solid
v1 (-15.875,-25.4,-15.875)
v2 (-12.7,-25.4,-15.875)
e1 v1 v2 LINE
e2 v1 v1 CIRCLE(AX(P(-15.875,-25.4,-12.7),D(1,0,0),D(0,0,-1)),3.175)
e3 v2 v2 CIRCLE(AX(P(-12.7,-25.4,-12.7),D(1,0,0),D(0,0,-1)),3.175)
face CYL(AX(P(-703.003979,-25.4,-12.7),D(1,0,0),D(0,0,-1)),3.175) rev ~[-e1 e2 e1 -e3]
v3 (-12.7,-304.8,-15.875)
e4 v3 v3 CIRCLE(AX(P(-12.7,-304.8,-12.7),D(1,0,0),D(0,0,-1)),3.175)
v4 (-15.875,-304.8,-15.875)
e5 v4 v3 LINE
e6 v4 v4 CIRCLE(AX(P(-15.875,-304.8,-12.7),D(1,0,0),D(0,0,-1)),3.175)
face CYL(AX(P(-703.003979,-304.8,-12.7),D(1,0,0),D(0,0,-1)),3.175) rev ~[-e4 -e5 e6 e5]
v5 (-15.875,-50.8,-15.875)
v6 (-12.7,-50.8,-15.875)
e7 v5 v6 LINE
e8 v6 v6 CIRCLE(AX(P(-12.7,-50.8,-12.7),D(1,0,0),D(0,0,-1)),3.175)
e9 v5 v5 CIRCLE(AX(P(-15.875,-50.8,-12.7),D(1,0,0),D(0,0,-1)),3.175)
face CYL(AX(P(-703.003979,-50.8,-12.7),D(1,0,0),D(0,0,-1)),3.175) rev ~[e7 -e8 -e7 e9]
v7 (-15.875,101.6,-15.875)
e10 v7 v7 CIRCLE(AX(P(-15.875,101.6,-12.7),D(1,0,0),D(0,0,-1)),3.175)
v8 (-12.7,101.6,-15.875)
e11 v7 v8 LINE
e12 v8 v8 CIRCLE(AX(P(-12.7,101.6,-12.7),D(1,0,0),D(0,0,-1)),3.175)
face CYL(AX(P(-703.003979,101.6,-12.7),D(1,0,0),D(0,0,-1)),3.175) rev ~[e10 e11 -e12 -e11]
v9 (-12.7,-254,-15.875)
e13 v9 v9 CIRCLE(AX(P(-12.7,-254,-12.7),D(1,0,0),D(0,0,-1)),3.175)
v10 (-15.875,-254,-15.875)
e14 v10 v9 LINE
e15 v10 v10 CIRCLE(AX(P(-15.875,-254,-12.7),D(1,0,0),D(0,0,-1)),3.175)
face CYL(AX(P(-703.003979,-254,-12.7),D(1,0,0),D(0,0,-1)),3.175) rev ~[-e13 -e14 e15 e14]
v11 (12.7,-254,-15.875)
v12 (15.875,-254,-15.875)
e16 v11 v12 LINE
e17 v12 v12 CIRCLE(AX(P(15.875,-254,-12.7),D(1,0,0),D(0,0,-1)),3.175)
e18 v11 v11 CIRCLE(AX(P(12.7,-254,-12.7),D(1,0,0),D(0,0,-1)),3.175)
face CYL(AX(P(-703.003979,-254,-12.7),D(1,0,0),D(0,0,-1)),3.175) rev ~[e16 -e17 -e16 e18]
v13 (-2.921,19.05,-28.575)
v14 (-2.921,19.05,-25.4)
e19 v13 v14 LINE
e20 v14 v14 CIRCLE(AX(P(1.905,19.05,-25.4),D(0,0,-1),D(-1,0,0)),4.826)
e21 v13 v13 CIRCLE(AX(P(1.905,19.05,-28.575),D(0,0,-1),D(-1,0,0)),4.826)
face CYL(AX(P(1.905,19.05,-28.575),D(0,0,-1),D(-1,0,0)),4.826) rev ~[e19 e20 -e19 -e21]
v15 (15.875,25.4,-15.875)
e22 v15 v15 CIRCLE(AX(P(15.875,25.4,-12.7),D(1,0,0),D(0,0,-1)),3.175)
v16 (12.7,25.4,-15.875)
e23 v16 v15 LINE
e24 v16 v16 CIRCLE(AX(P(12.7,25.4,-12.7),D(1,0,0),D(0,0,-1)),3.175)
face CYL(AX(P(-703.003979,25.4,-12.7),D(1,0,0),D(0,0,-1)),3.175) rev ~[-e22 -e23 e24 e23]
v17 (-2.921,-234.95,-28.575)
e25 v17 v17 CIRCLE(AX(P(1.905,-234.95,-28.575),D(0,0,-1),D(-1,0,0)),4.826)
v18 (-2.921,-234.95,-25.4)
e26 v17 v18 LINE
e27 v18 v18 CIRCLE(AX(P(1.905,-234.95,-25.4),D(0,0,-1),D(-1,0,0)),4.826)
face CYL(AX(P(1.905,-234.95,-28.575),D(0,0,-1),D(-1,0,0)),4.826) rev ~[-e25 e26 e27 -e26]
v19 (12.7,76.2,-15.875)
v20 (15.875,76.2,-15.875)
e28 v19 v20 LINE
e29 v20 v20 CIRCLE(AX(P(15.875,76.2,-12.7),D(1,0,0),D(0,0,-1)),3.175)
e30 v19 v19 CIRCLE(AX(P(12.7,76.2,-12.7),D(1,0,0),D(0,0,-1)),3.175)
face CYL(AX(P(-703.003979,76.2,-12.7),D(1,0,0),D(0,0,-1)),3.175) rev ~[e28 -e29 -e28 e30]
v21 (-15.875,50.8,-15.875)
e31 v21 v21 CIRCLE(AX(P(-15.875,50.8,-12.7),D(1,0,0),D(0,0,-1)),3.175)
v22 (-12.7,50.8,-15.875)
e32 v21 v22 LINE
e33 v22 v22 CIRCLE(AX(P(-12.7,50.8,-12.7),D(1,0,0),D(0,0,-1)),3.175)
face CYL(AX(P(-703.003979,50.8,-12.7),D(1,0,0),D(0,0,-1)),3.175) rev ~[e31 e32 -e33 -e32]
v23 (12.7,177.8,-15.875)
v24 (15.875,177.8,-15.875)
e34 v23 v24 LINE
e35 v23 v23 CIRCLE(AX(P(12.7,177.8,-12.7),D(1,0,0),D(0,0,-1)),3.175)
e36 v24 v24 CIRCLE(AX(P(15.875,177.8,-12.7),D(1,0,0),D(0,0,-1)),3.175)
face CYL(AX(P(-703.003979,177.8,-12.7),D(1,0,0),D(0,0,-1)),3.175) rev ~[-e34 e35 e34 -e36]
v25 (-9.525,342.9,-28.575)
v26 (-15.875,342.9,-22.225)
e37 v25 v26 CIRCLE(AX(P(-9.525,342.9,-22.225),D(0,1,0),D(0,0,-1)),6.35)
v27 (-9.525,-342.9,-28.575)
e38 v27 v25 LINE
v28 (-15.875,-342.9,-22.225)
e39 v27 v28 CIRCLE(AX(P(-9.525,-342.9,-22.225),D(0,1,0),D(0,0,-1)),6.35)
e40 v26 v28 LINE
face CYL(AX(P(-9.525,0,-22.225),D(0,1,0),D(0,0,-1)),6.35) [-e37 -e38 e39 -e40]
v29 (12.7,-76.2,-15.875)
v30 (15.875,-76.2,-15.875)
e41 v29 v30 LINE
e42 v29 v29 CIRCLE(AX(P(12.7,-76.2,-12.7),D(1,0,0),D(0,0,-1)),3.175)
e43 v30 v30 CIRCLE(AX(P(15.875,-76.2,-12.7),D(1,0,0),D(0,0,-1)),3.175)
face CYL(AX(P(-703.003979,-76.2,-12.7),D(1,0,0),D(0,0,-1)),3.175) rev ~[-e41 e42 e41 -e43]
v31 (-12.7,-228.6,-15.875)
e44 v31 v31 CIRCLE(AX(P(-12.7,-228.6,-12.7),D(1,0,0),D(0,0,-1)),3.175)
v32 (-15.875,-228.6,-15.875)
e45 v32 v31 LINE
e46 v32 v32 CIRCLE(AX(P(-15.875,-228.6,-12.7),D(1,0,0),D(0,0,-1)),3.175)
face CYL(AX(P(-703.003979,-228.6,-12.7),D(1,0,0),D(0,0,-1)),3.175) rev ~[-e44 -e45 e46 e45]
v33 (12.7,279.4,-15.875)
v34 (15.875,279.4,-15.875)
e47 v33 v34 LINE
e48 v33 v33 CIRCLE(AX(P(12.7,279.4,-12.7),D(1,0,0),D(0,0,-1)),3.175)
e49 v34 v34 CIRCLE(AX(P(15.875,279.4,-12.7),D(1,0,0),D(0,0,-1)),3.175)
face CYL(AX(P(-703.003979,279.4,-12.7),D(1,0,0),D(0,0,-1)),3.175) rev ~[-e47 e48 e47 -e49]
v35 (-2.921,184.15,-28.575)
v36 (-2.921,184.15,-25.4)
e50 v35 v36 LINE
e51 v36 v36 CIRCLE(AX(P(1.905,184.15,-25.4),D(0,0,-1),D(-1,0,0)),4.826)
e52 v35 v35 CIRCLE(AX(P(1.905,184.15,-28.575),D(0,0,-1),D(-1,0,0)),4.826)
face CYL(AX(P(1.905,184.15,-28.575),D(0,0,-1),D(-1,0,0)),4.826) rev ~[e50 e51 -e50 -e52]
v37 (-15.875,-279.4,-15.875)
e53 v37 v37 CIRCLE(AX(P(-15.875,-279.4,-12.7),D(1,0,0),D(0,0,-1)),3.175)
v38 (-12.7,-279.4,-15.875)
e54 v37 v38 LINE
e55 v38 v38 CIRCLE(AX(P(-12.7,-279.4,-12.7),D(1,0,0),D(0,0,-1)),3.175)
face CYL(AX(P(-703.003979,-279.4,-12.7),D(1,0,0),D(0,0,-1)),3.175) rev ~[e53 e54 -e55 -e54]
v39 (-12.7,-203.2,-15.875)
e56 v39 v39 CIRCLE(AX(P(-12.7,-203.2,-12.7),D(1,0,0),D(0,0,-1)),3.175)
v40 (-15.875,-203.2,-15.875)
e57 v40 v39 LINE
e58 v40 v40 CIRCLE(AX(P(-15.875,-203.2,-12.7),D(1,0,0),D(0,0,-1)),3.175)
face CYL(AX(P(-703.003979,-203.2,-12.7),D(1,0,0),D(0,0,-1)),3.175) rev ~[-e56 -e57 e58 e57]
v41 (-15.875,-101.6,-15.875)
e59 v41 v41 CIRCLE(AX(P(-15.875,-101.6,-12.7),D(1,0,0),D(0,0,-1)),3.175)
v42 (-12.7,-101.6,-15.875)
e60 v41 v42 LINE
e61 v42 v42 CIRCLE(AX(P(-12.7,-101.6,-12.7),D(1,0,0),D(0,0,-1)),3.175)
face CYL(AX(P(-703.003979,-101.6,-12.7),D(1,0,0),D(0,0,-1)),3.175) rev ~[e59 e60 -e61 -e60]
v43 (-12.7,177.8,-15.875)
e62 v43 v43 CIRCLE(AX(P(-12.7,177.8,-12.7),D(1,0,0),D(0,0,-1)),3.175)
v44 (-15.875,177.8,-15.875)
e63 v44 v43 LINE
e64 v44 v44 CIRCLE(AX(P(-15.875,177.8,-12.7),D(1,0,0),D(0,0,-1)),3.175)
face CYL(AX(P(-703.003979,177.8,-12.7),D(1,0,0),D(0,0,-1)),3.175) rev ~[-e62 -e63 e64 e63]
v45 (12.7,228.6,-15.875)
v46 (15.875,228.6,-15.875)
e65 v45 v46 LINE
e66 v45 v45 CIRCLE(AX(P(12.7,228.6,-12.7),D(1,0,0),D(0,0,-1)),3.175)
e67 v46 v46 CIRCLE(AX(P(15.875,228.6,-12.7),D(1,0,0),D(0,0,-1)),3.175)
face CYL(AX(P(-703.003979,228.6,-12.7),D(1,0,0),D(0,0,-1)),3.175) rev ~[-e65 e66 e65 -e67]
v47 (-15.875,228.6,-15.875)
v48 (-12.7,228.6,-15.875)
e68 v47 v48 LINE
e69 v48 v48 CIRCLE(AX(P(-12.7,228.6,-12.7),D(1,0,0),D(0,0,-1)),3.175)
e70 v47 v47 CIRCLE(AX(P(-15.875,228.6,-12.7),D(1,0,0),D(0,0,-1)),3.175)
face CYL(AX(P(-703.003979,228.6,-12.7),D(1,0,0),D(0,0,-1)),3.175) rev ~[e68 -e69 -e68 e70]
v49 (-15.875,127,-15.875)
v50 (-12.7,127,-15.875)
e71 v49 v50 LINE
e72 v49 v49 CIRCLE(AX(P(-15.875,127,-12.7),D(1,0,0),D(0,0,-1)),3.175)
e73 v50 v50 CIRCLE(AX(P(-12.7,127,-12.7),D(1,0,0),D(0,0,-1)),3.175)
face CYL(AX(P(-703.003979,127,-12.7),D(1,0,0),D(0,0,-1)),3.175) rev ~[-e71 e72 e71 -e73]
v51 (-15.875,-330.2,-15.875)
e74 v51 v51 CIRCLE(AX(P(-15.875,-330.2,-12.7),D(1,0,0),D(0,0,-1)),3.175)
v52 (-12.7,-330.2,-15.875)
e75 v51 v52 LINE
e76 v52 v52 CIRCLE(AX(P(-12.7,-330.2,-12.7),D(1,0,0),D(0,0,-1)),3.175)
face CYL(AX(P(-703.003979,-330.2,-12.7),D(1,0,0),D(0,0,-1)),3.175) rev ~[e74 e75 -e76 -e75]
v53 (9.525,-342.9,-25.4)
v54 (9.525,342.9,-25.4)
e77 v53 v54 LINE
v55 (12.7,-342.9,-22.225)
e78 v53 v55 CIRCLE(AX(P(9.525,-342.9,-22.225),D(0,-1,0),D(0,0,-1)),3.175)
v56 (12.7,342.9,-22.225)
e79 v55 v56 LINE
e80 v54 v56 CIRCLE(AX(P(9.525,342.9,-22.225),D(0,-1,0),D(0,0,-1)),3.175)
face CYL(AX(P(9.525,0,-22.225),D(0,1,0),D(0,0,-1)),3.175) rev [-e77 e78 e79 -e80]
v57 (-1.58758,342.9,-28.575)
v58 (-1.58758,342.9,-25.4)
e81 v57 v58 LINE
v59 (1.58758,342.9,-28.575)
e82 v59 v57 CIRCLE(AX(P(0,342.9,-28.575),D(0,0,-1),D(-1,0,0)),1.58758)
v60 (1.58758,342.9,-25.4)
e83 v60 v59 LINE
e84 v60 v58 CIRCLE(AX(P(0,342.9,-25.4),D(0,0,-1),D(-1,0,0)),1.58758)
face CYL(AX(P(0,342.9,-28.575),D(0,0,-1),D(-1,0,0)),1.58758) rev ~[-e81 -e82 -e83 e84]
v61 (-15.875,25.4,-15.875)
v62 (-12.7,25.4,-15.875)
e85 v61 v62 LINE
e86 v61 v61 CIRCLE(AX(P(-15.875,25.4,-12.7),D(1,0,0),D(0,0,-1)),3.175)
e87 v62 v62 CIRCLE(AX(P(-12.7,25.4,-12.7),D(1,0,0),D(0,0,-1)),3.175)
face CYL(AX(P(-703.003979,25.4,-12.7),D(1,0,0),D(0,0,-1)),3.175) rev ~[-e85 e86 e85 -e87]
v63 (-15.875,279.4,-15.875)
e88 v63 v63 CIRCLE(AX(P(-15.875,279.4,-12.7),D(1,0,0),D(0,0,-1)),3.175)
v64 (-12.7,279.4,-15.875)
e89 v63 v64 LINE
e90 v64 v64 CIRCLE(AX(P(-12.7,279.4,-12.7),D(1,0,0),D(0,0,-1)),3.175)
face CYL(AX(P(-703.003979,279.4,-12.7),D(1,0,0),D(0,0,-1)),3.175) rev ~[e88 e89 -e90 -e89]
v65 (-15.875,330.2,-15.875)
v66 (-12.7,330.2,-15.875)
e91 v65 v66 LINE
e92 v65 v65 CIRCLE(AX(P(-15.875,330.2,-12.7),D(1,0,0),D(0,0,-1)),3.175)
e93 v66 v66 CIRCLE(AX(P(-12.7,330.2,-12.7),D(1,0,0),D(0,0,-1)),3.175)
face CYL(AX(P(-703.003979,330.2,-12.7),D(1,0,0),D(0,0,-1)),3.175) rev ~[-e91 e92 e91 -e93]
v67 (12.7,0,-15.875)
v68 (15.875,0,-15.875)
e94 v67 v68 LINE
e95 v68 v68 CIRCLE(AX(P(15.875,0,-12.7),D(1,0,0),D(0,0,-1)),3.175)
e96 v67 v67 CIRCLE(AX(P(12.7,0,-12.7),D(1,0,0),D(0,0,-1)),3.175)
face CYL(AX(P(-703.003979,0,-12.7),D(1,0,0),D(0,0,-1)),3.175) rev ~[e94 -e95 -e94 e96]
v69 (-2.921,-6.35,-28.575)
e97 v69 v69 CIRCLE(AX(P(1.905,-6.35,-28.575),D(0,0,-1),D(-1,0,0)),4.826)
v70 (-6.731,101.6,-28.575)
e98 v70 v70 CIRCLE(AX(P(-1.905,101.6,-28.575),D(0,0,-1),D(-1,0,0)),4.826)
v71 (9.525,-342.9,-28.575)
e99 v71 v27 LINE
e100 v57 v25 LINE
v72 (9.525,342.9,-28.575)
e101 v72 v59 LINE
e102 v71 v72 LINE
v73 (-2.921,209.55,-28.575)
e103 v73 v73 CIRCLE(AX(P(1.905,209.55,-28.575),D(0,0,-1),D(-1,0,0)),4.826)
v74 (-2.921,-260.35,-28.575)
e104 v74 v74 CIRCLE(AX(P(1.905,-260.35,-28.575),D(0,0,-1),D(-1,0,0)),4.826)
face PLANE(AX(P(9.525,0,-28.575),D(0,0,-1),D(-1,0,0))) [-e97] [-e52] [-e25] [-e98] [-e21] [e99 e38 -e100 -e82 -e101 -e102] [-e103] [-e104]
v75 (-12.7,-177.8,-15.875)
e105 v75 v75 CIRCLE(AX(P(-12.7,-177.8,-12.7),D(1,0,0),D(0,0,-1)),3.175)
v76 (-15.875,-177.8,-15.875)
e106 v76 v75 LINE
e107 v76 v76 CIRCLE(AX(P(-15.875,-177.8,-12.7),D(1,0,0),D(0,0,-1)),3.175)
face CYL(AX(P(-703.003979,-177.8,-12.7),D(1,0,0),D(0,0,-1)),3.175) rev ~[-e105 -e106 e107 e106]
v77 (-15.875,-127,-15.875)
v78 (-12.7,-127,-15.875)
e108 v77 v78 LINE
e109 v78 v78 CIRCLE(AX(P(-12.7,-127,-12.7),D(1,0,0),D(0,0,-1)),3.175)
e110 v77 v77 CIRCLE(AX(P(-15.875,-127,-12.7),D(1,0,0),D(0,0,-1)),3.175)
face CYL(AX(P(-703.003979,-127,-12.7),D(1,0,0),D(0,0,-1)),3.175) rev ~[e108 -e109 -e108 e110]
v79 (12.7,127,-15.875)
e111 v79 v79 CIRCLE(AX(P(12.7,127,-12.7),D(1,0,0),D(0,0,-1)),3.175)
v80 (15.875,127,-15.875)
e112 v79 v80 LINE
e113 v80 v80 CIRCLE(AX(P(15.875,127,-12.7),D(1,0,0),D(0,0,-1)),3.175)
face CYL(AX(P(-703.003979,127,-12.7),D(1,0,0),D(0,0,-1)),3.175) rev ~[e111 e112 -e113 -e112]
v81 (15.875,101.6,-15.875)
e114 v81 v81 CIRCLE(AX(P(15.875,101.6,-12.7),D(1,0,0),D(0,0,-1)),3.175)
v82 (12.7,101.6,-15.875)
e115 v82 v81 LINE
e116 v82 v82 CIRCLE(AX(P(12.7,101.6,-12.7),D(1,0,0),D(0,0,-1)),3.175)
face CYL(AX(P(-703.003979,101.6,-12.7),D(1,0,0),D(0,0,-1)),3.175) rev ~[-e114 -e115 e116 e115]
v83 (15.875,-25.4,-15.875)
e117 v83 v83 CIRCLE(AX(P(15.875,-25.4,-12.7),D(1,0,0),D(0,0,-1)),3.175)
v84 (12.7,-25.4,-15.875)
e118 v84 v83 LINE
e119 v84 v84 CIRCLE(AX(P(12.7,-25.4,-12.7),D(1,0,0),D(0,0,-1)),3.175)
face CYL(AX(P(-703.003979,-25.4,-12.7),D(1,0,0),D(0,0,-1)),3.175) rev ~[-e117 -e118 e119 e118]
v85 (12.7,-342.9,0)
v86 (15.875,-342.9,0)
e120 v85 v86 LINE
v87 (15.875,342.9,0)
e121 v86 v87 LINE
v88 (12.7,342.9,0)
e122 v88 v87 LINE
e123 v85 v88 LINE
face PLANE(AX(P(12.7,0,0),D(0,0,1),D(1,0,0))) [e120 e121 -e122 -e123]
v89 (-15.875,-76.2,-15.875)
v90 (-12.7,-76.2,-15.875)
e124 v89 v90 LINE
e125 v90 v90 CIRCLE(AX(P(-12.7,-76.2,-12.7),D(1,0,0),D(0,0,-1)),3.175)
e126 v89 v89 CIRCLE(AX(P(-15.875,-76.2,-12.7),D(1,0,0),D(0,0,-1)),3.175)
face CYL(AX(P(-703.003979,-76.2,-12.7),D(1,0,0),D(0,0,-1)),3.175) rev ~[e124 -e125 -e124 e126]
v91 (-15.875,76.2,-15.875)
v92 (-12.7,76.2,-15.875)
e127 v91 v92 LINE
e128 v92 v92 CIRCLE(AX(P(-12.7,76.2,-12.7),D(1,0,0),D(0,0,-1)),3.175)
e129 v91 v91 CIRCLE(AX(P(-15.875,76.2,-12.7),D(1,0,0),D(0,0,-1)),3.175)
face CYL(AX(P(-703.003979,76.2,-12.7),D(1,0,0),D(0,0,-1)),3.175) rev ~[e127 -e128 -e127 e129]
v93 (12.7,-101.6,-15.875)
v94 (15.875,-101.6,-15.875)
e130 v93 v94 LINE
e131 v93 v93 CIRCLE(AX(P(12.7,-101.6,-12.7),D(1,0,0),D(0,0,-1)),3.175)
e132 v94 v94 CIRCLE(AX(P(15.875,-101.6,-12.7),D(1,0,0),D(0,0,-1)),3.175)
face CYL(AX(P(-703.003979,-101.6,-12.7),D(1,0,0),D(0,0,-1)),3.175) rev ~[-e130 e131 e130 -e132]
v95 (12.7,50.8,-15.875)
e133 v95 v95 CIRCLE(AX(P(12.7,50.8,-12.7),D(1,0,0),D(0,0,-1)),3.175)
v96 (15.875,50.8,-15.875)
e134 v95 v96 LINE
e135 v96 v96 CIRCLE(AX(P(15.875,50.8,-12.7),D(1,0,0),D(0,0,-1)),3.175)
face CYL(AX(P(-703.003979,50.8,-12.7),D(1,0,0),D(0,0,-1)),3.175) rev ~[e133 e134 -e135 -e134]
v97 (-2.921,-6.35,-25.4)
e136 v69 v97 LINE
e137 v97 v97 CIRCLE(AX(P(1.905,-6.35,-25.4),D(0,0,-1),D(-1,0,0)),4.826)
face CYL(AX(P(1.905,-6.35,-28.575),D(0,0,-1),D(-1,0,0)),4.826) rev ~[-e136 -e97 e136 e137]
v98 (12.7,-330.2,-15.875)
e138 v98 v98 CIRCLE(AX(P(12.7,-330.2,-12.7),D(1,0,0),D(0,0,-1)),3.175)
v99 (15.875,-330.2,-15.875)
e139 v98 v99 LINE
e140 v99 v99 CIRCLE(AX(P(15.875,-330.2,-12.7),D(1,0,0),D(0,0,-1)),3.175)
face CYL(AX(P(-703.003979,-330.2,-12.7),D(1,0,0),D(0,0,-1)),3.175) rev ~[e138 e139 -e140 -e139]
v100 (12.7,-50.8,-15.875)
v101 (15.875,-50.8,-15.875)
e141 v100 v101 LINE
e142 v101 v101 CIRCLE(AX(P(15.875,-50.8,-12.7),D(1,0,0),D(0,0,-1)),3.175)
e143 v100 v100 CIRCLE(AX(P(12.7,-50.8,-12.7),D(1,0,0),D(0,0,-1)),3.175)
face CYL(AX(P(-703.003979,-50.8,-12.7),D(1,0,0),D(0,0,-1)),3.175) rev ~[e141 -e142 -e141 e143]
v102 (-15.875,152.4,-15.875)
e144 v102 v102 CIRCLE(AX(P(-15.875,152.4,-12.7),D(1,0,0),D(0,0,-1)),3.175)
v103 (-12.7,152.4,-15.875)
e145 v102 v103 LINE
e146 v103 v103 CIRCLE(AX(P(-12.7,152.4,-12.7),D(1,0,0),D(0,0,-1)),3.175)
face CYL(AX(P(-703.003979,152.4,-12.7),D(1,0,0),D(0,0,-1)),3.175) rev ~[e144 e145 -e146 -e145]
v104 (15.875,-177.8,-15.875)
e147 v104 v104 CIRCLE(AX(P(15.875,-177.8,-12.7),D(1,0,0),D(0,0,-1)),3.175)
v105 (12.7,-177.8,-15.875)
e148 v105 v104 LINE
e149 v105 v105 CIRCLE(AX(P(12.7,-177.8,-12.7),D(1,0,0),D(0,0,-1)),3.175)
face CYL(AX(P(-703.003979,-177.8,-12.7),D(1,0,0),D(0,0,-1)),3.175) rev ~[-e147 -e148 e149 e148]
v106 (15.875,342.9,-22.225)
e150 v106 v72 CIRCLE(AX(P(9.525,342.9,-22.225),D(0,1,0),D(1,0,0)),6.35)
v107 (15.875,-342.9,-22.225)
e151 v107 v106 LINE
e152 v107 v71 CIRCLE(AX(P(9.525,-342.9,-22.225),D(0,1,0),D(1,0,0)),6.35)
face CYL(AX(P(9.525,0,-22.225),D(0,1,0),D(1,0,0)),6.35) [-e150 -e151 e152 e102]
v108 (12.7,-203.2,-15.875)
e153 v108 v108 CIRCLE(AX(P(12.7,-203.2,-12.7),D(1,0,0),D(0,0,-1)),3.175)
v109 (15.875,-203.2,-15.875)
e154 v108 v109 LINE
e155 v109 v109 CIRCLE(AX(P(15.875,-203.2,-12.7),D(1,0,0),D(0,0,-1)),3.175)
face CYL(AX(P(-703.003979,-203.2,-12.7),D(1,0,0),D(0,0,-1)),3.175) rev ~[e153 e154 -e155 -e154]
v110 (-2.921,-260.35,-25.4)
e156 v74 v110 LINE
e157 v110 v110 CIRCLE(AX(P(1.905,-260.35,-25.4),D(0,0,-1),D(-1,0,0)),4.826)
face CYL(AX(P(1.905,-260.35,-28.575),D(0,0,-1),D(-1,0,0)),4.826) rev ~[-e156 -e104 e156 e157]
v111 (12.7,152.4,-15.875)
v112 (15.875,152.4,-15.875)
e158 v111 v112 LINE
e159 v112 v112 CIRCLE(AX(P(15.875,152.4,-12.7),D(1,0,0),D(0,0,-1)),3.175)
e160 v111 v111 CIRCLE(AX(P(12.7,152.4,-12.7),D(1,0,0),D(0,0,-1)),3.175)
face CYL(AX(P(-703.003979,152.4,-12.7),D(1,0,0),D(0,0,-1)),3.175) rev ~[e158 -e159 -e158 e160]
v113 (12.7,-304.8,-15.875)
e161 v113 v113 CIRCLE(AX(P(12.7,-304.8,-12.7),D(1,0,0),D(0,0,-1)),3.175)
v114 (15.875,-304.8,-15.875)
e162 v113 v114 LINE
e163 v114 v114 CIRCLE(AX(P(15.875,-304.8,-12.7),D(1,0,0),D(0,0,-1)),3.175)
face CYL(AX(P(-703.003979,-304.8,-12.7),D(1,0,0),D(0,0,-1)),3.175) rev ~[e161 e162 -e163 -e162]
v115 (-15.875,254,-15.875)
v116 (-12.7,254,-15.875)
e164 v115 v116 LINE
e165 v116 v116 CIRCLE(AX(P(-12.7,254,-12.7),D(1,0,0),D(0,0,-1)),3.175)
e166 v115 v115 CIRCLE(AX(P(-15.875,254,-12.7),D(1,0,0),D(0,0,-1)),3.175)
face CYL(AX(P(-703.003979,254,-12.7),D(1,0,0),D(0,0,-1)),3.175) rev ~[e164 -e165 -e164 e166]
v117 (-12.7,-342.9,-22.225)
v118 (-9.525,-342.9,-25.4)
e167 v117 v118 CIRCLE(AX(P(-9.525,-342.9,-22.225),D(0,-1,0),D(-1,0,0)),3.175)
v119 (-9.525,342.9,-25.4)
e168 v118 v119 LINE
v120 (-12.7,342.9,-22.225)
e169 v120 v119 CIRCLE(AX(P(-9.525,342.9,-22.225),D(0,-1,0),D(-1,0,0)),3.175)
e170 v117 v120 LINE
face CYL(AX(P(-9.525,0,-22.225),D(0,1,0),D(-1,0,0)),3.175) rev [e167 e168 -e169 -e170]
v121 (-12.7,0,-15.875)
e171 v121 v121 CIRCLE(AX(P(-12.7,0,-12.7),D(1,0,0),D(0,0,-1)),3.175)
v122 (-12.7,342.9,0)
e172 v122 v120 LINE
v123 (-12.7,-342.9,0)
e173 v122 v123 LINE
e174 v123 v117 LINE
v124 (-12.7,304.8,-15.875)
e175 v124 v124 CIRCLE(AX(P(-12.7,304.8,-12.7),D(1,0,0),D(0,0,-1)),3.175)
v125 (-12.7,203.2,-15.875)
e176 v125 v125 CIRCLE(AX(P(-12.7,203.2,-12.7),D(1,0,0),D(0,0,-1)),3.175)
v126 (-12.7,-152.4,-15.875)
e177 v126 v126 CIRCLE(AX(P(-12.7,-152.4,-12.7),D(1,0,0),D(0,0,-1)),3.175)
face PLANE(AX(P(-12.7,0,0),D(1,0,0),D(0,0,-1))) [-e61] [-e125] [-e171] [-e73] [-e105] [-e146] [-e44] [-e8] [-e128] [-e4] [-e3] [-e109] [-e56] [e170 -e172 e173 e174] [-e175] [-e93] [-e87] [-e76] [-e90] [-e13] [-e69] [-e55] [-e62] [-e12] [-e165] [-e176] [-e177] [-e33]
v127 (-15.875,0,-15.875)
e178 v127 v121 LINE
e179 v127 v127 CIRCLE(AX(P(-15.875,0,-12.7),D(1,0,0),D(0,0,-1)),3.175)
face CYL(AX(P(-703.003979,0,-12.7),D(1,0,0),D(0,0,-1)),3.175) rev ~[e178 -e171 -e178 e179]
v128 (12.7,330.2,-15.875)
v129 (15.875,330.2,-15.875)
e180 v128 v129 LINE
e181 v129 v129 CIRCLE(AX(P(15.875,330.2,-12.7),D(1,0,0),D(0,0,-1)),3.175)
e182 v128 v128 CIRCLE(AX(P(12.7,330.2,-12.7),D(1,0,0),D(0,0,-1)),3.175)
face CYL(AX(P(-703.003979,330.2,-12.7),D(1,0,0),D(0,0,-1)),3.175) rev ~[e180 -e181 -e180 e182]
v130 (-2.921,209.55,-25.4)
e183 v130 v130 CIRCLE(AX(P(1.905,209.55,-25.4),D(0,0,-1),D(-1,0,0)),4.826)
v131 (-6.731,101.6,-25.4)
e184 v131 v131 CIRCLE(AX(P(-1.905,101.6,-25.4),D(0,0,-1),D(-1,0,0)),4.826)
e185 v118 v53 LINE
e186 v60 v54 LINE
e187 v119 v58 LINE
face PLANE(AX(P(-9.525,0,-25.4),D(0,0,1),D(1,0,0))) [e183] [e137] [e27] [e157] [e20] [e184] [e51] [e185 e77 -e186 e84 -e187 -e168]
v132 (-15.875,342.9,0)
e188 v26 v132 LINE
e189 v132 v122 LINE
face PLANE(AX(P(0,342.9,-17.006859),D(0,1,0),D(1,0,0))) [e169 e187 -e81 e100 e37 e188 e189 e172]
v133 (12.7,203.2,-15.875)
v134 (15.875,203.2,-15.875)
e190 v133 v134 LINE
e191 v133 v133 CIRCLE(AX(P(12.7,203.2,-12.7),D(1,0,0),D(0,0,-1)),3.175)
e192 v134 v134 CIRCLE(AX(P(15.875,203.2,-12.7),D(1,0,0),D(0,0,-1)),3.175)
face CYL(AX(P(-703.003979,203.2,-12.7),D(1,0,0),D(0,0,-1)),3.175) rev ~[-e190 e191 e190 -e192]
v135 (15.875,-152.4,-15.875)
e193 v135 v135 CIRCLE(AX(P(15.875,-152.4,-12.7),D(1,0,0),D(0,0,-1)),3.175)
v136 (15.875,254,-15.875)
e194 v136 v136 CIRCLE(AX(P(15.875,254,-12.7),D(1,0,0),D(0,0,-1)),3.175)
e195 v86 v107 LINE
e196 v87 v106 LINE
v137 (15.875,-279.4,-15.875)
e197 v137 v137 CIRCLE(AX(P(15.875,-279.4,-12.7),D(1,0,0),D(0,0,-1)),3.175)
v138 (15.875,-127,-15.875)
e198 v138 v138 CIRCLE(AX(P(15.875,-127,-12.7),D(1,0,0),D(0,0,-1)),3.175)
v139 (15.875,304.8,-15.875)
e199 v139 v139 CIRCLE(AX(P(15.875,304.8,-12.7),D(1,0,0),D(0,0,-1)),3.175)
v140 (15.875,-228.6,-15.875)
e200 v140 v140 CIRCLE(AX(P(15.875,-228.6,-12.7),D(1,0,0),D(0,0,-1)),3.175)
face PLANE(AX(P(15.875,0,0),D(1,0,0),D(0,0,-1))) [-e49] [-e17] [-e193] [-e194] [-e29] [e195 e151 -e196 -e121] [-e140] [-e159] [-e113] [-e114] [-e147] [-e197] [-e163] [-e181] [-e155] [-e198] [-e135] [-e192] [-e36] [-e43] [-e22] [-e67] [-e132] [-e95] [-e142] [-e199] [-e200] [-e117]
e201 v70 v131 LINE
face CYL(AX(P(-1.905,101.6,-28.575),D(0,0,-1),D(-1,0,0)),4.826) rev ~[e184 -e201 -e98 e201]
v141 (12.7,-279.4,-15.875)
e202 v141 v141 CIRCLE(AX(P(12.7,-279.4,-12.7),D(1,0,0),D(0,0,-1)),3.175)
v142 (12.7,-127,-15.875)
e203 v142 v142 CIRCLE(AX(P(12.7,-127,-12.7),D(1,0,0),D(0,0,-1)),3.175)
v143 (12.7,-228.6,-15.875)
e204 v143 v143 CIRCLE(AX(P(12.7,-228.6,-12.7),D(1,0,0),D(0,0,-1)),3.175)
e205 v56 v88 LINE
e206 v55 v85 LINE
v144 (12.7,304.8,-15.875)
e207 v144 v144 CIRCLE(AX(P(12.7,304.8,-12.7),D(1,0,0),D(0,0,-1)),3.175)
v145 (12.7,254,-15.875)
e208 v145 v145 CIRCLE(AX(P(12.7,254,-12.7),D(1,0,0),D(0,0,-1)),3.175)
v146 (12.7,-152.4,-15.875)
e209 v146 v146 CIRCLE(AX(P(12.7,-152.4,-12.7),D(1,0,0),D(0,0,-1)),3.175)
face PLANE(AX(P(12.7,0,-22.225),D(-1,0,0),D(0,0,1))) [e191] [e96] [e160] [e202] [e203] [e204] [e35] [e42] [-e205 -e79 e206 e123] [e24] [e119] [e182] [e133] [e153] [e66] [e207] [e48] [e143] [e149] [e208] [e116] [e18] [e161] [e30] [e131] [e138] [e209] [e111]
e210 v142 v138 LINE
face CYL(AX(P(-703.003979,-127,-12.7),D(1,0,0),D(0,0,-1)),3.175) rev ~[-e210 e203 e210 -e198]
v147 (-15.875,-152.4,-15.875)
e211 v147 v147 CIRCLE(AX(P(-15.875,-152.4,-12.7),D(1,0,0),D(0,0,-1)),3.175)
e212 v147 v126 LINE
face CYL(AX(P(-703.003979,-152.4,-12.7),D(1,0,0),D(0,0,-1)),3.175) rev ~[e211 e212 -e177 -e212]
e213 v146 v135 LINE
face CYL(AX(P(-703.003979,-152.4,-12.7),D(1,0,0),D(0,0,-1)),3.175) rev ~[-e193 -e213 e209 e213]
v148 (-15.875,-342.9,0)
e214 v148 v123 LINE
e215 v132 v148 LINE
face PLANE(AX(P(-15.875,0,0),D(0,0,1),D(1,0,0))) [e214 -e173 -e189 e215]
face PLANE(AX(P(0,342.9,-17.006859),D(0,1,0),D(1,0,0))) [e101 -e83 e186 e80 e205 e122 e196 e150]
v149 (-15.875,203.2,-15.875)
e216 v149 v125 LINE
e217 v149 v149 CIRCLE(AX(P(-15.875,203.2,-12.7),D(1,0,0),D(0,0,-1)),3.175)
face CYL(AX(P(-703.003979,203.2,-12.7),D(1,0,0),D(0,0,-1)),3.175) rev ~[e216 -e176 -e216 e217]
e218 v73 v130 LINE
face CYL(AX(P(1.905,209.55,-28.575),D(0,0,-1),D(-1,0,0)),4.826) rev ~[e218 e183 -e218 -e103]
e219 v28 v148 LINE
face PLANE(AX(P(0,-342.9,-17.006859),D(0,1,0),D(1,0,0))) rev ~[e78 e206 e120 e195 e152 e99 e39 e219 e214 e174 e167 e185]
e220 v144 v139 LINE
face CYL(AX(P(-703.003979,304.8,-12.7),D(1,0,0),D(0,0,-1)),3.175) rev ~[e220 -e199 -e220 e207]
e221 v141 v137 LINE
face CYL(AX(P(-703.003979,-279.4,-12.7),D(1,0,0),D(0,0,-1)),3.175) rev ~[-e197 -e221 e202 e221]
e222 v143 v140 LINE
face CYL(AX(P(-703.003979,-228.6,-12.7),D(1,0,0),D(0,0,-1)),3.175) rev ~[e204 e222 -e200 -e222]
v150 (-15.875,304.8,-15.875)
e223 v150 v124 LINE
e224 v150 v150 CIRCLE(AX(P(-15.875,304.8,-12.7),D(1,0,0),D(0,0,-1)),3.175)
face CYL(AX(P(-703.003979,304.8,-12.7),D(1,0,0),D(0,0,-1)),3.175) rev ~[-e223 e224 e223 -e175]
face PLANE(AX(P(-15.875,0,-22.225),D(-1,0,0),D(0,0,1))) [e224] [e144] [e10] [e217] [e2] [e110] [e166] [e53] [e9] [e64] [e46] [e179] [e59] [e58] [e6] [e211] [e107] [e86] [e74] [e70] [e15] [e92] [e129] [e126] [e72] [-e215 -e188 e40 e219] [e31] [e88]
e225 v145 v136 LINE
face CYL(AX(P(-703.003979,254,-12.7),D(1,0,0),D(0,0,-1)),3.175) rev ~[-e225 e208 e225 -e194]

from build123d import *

# Parameters (mm, degrees)
EXTRUDE1_DEPTH              = 342.9
SKETCH2_R                   = 1.58758
SKETCH2_R_2                 = 4.826
EXTRUDE2_DEPTH              = 25
F_1_4_0_25_DIAMETER_HOLE1_D = 6.35
LPATTERN1_COUNT             = 27
LPATTERN1_PITCH             = 25.4


with BuildPart() as part:
    # Sketch1 → Extrude1 (new body, symmetric)
    with BuildSketch(Plane(origin=(0, 0, 0), x_dir=(1, 0, 0), z_dir=(0, 1, 0))):
        with BuildLine():
            Line((-12.7, 0), (-12.7, 22.225))
            ThreePointArc((-12.7, 22.225), (-11.77006403, 24.47006403), (-9.525, 25.4))
            Line((-9.525, 25.4), (9.525, 25.4))
            ThreePointArc((9.525, 25.4), (11.77006403, 24.47006403), (12.7, 22.225))
            Line((12.7, 22.225), (12.7, 0))
            Line((12.7, 0), (15.875, 0))
            Line((15.875, 0), (15.875, 22.225))
            ThreePointArc((15.875, 22.225), (14.015128061, 26.715128061), (9.525, 28.575))
            Line((9.525, 28.575), (-9.525, 28.575))
            ThreePointArc((-9.525, 28.575), (-14.015128061, 26.715128061), (-15.875, 22.225))
            Line((-15.875, 22.225), (-15.875, 0))
            Line((-15.875, 0), (-12.7, 0))
        make_face()
    extrude(amount=EXTRUDE1_DEPTH, both=True)

    # Sketch2 → Extrude2 (cut)
    with BuildSketch(Plane(origin=(0, 0, -28.575), x_dir=(-1, 0, 0), z_dir=(0, 0, -1))):
        with Locations((0, 342.9)):
            Circle(SKETCH2_R)
        with Locations((-1.905, 209.55)):
            Circle(SKETCH2_R_2)
        with Locations((-1.905, 184.15)):
            Circle(SKETCH2_R_2)
        with Locations((-1.905, -6.35)):
            Circle(SKETCH2_R_2)
        with Locations((1.905, 101.6)):
            Circle(SKETCH2_R_2)
        with Locations((-1.905, -260.35)):
            Circle(SKETCH2_R_2)
        with Locations((-1.905, -234.95)):
            Circle(SKETCH2_R_2)
        with Locations((-1.905, 19.05)):
            Circle(SKETCH2_R_2)
    extrude(amount=-EXTRUDE2_DEPTH, mode=Mode.SUBTRACT)

    # 1/4 (0.25) Diameter Hole1 (through all)
    with Locations(Plane.ZY.offset(15.875)):
        with Locations((-12.7, 330.2)):
            f_1_4_0_25_diameter_hole1 = Hole(F_1_4_0_25_DIAMETER_HOLE1_D / 2)

    # LPattern1: 1/4 (0.25) Diameter Hole1 ×27
    with Locations(*[(0, -i * LPATTERN1_PITCH, 0) for i in range(1, LPATTERN1_COUNT)]):
        add(f_1_4_0_25_diameter_hole1, mode=Mode.SUBTRACT)


solid = part.part
